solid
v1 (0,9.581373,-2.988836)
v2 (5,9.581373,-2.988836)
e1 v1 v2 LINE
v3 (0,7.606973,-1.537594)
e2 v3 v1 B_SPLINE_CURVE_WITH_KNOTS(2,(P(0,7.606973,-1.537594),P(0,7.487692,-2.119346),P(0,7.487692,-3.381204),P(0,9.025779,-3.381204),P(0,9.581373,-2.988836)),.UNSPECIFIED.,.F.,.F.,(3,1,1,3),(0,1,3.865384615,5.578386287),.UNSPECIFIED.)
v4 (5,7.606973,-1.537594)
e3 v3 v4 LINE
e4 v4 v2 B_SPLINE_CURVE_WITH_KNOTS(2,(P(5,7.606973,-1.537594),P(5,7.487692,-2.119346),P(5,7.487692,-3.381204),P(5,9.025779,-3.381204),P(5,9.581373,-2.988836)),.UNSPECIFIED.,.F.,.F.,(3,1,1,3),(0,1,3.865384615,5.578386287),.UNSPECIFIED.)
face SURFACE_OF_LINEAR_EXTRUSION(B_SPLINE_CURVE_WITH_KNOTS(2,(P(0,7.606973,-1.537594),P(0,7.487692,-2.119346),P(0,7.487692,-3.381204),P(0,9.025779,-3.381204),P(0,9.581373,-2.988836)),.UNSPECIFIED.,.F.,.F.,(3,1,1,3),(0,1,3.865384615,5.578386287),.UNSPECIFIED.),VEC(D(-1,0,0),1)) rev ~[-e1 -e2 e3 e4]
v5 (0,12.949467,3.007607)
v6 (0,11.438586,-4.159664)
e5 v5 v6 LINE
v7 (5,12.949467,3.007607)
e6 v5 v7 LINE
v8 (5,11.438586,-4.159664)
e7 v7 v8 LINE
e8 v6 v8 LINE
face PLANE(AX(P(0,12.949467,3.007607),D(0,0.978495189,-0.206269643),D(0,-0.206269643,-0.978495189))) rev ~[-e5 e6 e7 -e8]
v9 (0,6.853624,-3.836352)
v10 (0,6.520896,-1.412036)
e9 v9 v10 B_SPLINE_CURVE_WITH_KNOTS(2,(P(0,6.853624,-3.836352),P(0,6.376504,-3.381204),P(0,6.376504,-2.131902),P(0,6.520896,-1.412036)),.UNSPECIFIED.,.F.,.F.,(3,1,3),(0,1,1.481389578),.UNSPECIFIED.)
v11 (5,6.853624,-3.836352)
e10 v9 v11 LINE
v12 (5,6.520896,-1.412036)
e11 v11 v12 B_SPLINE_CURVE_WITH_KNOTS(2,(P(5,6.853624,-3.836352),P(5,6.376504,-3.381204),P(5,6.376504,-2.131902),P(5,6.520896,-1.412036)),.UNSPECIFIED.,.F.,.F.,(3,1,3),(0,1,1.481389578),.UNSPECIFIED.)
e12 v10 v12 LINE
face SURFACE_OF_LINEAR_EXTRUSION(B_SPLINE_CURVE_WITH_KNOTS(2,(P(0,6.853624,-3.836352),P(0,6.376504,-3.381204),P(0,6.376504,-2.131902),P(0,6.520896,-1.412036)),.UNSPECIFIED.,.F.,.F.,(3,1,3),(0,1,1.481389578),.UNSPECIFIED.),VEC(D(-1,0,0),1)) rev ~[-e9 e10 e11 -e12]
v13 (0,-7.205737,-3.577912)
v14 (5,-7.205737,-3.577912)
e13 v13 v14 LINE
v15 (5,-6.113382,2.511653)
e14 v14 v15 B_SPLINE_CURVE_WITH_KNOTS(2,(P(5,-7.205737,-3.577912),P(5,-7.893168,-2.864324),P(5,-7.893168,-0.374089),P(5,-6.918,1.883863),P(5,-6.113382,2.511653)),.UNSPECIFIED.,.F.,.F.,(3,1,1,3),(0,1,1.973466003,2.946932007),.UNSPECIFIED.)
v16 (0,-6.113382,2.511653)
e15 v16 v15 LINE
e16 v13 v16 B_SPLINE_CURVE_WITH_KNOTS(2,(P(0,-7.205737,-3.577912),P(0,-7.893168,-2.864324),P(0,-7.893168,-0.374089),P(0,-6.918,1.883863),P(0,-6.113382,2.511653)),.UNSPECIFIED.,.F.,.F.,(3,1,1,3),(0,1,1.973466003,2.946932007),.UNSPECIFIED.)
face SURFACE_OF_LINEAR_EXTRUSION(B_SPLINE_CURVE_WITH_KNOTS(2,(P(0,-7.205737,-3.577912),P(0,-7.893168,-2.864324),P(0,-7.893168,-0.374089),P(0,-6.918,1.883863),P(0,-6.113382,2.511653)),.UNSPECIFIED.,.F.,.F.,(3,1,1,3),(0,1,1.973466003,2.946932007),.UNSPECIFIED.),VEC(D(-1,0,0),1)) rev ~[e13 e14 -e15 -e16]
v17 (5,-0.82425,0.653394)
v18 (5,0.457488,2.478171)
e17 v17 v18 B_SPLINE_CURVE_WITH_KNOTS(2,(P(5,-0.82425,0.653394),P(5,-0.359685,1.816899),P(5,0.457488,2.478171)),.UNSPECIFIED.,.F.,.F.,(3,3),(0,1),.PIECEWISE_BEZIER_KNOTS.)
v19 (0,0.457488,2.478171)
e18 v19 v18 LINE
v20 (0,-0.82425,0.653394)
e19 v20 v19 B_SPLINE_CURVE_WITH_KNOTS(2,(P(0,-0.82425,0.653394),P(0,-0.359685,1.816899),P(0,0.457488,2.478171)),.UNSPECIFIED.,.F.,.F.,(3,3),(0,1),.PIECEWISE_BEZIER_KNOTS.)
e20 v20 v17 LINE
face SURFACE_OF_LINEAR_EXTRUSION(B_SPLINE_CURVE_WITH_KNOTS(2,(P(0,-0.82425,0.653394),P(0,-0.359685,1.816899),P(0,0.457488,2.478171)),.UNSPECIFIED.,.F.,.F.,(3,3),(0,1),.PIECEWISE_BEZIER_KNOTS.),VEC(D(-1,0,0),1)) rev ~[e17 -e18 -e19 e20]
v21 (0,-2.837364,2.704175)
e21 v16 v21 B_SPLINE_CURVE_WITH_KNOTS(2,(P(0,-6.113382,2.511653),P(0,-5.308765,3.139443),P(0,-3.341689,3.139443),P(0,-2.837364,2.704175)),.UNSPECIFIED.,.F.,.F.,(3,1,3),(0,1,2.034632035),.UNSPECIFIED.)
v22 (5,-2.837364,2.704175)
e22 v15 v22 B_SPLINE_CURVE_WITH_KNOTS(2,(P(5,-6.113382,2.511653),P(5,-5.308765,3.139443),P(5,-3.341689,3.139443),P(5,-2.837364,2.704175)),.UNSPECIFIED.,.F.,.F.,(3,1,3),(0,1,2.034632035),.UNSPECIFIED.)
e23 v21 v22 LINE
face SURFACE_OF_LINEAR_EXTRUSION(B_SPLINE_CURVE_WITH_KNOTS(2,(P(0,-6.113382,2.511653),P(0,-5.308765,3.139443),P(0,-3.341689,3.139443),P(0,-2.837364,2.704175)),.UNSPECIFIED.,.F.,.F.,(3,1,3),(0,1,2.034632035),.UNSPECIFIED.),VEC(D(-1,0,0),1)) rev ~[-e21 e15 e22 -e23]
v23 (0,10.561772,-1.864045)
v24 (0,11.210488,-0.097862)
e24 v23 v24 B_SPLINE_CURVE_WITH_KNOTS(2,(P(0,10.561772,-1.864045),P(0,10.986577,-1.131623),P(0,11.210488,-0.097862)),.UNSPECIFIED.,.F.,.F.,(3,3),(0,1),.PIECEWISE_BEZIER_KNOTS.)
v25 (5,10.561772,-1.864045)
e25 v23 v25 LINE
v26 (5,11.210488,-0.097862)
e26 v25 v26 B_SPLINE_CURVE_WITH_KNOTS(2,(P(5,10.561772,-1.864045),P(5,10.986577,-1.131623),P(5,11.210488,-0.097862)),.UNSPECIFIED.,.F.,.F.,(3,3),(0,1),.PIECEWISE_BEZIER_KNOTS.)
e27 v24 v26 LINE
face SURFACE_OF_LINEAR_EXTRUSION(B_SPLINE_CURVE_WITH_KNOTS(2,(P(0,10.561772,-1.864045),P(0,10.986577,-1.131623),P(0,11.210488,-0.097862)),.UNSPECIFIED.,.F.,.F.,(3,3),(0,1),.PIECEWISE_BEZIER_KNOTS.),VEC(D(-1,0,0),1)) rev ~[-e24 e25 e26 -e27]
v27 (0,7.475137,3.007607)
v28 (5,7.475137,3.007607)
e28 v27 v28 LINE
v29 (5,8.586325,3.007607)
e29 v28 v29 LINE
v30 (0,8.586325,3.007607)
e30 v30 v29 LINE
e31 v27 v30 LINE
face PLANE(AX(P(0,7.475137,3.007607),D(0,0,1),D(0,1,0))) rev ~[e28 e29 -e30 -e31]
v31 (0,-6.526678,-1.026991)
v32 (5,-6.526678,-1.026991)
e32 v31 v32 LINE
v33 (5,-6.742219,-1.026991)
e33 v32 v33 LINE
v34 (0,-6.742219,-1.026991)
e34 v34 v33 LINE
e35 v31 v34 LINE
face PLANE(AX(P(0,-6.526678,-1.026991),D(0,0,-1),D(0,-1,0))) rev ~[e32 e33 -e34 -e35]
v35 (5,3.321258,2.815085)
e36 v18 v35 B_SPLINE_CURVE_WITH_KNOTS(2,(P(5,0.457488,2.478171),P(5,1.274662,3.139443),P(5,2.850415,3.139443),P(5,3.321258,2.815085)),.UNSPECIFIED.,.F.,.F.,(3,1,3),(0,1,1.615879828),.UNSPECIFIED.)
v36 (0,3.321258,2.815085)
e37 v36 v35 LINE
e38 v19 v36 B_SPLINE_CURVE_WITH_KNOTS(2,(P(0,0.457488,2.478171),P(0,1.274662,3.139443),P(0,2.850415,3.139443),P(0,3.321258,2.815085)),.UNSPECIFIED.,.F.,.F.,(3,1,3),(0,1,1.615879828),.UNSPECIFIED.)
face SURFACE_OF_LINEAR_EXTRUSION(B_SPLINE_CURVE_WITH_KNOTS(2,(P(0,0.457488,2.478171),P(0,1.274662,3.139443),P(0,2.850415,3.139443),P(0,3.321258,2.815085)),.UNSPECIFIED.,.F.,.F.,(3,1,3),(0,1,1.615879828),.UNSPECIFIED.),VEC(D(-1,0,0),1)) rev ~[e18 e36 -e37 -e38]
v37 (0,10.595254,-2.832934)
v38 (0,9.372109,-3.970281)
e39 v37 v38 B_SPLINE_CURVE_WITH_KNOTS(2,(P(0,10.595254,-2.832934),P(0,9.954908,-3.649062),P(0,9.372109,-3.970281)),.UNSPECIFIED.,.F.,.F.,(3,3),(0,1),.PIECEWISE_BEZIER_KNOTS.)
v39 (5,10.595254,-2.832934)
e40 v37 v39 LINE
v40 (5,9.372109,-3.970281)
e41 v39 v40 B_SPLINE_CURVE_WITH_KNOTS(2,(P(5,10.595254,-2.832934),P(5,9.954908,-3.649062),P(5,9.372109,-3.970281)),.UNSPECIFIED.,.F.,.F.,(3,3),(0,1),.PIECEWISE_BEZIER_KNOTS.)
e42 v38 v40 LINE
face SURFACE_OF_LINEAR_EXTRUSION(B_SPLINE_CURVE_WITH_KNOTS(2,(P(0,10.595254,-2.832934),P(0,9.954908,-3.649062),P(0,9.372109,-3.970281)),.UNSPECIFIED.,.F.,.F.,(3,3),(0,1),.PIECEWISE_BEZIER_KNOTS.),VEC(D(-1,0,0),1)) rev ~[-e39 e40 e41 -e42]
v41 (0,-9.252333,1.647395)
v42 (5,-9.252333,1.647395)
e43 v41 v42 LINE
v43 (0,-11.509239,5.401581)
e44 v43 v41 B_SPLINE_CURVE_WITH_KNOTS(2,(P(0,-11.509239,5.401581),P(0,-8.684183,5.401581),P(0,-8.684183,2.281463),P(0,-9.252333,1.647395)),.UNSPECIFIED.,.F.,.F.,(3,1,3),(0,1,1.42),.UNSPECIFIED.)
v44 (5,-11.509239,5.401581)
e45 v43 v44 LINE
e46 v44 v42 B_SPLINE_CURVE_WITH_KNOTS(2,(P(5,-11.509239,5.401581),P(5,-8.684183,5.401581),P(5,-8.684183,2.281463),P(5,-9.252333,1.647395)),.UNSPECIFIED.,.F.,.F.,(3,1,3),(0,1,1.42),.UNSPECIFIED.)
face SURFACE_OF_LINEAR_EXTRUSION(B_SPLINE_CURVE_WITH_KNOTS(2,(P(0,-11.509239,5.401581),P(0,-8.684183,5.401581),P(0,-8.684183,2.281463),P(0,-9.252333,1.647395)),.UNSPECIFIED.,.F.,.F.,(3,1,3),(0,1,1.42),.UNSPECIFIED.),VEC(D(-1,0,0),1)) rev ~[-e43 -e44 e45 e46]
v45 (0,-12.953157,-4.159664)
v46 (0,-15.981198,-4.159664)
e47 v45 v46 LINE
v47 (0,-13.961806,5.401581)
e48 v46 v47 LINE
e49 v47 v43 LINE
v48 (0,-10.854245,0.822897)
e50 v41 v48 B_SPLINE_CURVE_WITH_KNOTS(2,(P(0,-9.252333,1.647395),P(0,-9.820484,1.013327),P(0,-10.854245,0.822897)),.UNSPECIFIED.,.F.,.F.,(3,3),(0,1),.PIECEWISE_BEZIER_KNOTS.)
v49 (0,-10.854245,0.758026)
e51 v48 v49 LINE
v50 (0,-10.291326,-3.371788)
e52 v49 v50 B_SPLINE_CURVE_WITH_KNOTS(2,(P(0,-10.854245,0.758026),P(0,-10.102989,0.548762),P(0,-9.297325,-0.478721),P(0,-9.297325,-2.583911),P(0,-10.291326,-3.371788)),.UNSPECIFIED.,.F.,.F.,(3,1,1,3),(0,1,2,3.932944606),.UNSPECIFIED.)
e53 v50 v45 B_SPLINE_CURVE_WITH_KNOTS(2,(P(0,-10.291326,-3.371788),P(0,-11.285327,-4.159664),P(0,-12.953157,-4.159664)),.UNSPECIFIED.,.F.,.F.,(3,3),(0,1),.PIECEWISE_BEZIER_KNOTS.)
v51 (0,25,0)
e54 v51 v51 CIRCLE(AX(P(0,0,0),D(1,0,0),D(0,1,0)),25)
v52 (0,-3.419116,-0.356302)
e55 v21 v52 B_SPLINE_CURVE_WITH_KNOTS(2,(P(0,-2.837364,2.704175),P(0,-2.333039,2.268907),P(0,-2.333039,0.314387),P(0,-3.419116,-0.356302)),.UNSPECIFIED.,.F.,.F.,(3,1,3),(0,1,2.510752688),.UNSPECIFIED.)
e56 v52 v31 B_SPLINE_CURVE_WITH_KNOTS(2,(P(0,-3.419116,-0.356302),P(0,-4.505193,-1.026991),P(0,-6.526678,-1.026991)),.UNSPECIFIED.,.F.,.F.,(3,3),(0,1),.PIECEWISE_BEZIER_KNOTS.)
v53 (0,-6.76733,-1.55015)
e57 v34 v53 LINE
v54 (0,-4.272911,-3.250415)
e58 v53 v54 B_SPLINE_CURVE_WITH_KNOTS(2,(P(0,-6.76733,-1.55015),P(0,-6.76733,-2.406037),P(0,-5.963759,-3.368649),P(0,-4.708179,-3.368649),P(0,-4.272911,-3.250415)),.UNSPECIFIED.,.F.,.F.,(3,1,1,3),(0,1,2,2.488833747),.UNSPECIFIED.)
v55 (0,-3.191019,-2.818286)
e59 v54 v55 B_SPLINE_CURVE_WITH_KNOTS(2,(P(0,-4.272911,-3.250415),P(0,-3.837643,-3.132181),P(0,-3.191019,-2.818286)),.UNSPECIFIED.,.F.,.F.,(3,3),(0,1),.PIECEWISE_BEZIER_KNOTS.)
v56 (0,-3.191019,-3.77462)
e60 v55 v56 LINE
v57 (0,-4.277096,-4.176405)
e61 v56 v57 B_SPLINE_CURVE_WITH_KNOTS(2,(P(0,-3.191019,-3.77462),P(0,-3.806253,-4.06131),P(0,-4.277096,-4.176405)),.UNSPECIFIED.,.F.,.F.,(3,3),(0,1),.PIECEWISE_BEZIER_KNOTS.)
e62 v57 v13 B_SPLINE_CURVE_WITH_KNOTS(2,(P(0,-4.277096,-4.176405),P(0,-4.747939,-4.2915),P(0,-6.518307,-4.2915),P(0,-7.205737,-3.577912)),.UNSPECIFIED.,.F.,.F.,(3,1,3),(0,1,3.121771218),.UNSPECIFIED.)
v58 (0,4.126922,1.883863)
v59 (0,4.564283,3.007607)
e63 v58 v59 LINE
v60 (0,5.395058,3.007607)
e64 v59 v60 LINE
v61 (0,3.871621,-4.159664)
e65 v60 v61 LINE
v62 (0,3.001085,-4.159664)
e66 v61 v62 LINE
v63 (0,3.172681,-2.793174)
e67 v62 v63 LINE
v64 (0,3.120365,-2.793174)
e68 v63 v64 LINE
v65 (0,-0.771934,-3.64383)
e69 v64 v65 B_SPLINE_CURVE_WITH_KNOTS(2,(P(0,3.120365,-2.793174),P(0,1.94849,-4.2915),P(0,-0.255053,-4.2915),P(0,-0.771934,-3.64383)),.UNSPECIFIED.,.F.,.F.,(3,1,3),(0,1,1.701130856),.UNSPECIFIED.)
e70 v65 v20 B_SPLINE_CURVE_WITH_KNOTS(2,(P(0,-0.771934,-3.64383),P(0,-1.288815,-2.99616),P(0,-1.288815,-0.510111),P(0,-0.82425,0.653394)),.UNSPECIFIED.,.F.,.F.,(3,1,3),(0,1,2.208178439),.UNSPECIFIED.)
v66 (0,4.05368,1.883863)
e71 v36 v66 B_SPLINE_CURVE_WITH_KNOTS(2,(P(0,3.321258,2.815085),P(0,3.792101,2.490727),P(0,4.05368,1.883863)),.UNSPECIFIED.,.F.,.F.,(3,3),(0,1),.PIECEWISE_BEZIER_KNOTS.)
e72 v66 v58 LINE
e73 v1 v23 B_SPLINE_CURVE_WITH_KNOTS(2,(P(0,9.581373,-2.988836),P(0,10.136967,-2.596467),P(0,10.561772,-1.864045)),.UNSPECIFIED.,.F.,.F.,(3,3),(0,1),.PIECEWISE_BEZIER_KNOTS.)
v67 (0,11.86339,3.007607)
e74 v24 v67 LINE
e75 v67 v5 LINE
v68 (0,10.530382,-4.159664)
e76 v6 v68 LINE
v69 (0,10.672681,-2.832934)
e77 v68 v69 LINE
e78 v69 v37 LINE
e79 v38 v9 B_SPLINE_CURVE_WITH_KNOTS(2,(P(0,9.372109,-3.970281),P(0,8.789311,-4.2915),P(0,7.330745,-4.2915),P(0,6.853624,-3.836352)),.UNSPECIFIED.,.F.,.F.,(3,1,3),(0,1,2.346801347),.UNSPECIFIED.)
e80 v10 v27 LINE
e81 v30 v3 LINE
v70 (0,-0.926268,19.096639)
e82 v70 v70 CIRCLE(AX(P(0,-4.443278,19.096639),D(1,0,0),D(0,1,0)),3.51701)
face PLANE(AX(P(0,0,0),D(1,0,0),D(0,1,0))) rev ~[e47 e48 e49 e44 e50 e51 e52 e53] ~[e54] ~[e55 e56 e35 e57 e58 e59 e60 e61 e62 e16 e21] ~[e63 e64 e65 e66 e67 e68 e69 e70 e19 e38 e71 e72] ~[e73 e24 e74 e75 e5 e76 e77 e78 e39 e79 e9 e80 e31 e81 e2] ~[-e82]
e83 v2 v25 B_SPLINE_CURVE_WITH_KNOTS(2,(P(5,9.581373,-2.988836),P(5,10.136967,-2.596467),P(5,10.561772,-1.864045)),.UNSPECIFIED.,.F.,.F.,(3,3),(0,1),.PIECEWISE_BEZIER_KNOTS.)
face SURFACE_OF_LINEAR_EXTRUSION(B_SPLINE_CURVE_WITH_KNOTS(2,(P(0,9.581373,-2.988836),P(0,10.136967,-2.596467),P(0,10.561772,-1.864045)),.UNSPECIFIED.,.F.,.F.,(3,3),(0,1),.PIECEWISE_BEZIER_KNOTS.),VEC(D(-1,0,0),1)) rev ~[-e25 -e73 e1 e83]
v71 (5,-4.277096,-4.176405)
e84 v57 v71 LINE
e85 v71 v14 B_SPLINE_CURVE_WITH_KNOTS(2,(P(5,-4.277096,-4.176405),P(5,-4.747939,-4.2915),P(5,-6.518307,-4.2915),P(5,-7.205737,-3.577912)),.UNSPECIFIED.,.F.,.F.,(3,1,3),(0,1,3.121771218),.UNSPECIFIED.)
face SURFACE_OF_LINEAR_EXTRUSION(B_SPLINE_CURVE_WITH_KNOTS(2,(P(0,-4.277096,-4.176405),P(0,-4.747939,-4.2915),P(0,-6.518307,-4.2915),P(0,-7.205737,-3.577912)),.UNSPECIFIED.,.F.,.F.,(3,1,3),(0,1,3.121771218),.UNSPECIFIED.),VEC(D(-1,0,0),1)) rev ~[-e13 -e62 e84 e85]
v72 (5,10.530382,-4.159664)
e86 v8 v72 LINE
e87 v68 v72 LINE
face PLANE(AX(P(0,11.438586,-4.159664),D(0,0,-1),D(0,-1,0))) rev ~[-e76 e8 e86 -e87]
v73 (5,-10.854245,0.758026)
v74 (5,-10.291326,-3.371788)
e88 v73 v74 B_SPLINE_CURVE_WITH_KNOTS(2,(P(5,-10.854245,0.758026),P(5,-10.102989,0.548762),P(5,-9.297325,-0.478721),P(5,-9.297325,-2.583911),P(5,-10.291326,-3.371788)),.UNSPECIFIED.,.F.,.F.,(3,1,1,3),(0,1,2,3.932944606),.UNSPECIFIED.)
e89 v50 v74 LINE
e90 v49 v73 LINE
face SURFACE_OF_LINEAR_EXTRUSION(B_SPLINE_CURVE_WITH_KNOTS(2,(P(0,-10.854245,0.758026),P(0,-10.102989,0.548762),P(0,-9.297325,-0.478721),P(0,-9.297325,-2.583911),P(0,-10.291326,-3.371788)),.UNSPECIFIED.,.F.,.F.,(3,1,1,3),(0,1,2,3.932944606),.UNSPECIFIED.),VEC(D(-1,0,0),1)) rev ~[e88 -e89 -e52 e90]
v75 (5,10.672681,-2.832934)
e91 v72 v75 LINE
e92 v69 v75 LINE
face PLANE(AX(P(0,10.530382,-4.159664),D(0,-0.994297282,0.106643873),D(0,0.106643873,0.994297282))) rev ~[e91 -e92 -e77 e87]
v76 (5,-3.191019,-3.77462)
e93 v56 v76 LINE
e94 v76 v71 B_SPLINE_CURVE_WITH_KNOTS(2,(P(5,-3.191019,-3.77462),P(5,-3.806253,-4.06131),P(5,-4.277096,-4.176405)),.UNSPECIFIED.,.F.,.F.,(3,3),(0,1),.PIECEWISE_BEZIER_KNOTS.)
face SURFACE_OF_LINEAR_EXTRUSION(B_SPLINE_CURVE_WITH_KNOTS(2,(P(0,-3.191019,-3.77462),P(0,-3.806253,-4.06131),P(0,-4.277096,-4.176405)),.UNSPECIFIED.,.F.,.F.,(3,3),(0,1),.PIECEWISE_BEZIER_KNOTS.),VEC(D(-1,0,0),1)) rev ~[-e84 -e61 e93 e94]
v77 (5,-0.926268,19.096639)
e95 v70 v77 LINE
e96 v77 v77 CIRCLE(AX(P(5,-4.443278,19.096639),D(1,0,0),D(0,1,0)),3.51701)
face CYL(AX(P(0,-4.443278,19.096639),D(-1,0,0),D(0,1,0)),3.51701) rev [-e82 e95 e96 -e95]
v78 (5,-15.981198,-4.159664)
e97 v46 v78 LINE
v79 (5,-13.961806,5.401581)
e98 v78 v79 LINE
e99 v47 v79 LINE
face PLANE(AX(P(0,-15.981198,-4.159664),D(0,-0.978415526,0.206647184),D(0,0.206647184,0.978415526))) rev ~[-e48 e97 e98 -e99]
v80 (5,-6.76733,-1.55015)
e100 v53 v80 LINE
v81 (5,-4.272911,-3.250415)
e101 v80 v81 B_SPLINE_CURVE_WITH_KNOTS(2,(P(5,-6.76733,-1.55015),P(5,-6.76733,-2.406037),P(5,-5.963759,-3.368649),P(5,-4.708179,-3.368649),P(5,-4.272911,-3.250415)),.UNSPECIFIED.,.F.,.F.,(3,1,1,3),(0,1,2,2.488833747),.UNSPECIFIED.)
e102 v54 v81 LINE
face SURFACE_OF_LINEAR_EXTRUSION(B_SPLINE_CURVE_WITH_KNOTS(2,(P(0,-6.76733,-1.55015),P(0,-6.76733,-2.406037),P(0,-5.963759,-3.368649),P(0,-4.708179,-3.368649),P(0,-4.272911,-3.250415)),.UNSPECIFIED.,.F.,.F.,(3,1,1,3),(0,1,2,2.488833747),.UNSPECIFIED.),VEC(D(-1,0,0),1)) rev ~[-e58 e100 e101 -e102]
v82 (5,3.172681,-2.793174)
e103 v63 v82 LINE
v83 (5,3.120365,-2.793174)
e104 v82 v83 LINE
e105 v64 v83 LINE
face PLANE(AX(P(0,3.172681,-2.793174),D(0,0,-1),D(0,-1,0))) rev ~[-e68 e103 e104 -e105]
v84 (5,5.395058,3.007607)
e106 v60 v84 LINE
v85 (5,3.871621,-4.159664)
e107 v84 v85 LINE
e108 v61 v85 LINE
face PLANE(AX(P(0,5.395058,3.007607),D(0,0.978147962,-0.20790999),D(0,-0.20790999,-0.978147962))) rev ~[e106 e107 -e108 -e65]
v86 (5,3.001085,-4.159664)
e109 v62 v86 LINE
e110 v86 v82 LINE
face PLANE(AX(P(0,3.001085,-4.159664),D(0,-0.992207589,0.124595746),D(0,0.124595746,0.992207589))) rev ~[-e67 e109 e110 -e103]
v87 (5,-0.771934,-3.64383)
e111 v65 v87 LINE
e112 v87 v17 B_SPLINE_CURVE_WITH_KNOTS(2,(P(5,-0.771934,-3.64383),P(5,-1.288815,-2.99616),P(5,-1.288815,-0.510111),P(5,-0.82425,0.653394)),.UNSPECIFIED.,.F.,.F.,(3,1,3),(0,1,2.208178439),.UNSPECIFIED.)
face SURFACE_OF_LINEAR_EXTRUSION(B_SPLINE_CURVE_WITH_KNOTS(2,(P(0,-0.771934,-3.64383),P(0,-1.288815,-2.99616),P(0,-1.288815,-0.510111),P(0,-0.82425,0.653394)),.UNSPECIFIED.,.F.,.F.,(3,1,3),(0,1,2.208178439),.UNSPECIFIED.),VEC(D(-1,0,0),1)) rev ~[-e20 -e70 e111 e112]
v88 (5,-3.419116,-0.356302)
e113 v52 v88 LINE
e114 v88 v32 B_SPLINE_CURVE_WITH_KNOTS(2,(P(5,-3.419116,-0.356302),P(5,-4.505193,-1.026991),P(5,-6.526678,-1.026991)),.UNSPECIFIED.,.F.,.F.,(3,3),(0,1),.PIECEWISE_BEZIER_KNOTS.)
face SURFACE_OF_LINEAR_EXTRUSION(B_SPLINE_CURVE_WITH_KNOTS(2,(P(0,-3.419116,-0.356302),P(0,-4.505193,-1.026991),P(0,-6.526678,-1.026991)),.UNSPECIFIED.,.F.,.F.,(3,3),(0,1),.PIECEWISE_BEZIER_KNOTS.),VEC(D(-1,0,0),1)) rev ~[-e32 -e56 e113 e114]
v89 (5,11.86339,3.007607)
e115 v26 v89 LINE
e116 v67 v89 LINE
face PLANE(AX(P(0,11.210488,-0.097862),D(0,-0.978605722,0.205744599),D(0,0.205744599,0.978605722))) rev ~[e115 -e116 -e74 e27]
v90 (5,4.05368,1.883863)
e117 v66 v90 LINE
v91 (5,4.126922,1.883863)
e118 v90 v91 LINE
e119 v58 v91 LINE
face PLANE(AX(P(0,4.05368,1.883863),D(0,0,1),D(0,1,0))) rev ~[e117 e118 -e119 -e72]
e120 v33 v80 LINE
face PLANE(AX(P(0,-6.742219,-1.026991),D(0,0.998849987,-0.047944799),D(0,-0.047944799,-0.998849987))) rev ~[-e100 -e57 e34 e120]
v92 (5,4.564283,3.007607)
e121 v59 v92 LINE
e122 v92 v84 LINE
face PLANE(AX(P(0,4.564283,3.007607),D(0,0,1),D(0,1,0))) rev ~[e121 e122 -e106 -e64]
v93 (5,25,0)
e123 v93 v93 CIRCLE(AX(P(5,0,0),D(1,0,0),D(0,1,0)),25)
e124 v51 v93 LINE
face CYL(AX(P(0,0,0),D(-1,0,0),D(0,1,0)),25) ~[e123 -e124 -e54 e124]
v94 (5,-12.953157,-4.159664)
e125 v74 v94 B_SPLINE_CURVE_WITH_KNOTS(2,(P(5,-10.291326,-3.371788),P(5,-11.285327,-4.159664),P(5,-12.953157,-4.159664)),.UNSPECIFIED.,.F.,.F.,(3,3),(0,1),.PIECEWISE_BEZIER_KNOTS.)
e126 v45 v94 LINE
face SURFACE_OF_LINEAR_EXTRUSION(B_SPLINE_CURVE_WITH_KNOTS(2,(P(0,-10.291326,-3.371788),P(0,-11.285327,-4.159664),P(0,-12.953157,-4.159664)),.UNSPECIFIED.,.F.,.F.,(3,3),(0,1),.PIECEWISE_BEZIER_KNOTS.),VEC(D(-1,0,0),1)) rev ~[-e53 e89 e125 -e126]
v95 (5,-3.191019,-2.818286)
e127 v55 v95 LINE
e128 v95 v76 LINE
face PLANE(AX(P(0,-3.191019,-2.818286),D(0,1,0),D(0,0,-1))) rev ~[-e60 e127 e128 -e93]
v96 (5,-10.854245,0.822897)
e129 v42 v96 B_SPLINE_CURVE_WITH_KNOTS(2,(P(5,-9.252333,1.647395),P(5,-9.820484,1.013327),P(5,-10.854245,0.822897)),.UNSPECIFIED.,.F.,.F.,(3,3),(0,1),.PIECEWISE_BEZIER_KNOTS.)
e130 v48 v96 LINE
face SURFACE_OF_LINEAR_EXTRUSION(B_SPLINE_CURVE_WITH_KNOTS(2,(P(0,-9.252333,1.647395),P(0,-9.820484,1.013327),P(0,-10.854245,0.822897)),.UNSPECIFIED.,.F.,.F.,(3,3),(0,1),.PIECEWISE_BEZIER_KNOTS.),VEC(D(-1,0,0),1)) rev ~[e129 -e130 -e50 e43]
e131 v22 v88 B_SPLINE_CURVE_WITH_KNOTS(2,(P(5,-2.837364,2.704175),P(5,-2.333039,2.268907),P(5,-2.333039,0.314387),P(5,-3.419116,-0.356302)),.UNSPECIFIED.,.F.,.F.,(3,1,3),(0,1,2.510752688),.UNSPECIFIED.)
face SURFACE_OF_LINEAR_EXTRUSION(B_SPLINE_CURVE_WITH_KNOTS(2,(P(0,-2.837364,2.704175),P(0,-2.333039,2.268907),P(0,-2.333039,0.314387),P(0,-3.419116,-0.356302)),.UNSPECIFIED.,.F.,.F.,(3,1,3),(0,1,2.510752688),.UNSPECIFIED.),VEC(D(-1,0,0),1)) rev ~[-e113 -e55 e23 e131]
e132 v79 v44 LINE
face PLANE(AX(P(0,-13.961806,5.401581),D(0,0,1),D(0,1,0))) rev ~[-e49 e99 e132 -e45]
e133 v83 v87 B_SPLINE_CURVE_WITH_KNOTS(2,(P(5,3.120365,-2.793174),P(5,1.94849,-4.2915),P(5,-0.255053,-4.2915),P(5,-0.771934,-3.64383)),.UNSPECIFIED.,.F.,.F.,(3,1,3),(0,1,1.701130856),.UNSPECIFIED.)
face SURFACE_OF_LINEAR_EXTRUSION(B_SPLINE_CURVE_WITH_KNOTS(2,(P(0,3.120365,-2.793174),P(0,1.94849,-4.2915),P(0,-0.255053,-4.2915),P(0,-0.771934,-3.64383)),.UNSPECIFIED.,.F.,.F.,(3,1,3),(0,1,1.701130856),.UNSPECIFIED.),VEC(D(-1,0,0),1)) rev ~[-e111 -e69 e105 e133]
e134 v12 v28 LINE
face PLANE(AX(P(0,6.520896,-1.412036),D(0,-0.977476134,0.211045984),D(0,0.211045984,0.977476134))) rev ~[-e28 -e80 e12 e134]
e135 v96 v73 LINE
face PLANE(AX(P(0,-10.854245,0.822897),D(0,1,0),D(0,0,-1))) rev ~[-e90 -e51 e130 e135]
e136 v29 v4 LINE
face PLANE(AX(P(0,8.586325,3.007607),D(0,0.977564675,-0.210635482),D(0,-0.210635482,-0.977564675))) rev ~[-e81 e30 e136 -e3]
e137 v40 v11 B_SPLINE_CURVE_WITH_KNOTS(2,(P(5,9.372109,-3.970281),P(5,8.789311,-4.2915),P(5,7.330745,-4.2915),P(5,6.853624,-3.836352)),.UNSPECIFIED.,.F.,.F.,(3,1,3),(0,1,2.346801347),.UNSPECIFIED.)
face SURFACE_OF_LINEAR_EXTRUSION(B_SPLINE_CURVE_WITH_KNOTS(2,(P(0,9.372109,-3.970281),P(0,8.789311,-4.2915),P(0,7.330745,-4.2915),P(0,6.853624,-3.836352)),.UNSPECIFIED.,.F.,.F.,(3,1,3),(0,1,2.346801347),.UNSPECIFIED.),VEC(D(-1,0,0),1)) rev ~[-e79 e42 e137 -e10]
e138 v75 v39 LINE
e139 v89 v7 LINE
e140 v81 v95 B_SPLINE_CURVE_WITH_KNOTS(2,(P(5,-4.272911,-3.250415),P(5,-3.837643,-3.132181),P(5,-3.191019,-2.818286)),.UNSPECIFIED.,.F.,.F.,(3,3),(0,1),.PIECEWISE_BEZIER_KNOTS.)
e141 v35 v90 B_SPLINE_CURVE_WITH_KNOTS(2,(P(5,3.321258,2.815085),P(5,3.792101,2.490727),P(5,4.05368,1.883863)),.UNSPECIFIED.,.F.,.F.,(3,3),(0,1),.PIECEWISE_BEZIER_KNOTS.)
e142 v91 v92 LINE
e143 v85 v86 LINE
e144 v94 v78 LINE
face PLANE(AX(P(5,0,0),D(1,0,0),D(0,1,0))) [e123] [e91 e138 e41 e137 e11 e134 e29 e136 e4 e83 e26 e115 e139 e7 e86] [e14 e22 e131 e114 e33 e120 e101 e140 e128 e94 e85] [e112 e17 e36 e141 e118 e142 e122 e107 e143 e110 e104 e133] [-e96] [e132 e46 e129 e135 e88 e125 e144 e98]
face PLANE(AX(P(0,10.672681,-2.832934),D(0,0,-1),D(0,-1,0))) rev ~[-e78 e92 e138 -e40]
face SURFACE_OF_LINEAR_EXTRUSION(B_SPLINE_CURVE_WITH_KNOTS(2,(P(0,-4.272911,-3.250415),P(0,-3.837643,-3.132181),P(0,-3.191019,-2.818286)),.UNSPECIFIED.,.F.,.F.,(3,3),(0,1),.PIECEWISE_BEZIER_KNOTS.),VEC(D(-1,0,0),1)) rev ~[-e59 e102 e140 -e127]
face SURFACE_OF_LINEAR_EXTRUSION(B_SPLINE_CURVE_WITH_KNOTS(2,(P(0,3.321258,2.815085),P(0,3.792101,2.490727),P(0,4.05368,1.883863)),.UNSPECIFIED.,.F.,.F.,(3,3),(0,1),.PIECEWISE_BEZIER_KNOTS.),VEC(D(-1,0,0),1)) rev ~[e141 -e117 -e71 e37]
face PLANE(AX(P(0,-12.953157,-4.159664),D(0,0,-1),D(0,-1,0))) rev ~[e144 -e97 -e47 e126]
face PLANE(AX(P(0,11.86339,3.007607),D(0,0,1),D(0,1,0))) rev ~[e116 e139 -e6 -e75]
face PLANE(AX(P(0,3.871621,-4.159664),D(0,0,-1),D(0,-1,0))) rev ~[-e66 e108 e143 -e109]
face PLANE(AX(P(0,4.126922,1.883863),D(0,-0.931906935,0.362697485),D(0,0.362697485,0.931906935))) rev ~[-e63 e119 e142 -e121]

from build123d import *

# Parameters (mm, degrees)
F0_R     = 25
F0_R_2   = 3.517009594
F1_DEPTH = 5


with BuildPart() as f1:
    # F0 (on Right) → F1 (new body)
    with BuildSketch(Plane.YZ):
        Circle(F0_R)
        with BuildLine():
            add(Edge.make_bspline(
                [(-4.2770959996, -4.1764053417), (-4.7479386555, -4.2915002132), (-5.3150424766, -4.2915002132)],
                knots=[0, 0, 0, 1, 1, 1], degree=2))
            add(Edge.make_bspline(
                [(-5.3150424766, -4.2915002132), (-6.5183070416, -4.2915002132), (-7.2057373192, -3.5779120103)],
                knots=[0, 0, 0, 1, 1, 1], degree=2))
            add(Edge.make_bspline(
                [(-7.2057373192, -3.5779120103), (-7.8931675968, -2.8643238073), (-7.8931675968, -1.6024654896)],
                knots=[0, 0, 0, 1, 1, 1], degree=2))
            add(Edge.make_bspline(
                [(-7.8931675968, -1.6024654896), (-7.8931675968, -0.3740893162), (-7.4055838687, 0.7548867409)],
                knots=[0, 0, 0, 1, 1, 1], degree=2))
            add(Edge.make_bspline(
                [(-7.4055838687, 0.7548867409), (-6.9180001406, 1.883862798), (-6.1133823575, 2.5116530059)],
                knots=[0, 0, 0, 1, 1, 1], degree=2))
            add(Edge.make_bspline(
                [(-6.1133823575, 2.5116530059), (-5.3087645745, 3.1394432137), (-4.3419676544, 3.1394432137)],
                knots=[0, 0, 0, 1, 1, 1], degree=2))
            add(Edge.make_bspline(
                [(-4.3419676544, 3.1394432137), (-3.3416885899, 3.1394432137), (-2.8373637896, 2.7041753363)],
                knots=[0, 0, 0, 1, 1, 1], degree=2))
            add(Edge.make_bspline(
                [(-2.8373637896, 2.7041753363), (-2.3330389893, 2.2689074588), (-2.3330389893, 1.4904476011)],
                knots=[0, 0, 0, 1, 1, 1], degree=2))
            add(Edge.make_bspline(
                [(-2.3330389893, 1.4904476011), (-2.3330389893, 0.3143872784), (-3.4191160489, -0.356301927)],
                knots=[0, 0, 0, 1, 1, 1], degree=2))
            add(Edge.make_bspline(
                [(-3.4191160489, -0.356301927), (-4.5051931084, -1.0269911324), (-6.5266775777, -1.0269911324)],
                knots=[0, 0, 0, 1, 1, 1], degree=2))
            Line((-6.5266775777, -1.0269911324), (-6.7422188824, -1.0269911324))
            Line((-6.7422188824, -1.0269911324), (-6.7673304907, -1.5501496389))
            add(Edge.make_bspline(
                [(-6.7673304907, -1.5501496389), (-6.7673304907, -2.4060369556), (-6.3655447577, -2.8873427816)],
                knots=[0, 0, 0, 1, 1, 1], degree=2))
            add(Edge.make_bspline(
                [(-6.3655447577, -2.8873427816), (-5.9637590247, -3.3686486076), (-5.1204275121, -3.3686486076)],
                knots=[0, 0, 0, 1, 1, 1], degree=2))
            add(Edge.make_bspline(
                [(-5.1204275121, -3.3686486076), (-4.708178609, -3.3686486076), (-4.2729107315, -3.2504147852)],
                knots=[0, 0, 0, 1, 1, 1], degree=2))
            add(Edge.make_bspline(
                [(-4.2729107315, -3.2504147852), (-3.8376428541, -3.1321809627), (-3.19101894, -2.8182858588)],
                knots=[0, 0, 0, 1, 1, 1], degree=2))
            Line((-3.19101894, -2.8182858588), (-3.19101894, -3.7746196087))
            add(Edge.make_bspline(
                [(-3.19101894, -3.7746196087), (-3.8062533437, -4.0613104703), (-4.2770959996, -4.1764053417)],
                knots=[0, 0, 0, 1, 1, 1], degree=2))
        make_face(mode=Mode.SUBTRACT)
        with BuildLine():
            add(Edge.make_bspline(
                [(0.4574884846, 2.4781708614), (1.2746620718, 3.1394432137), (2.249829528, 3.1394432137)],
                knots=[0, 0, 0, 1, 1, 1], degree=2))
            add(Edge.make_bspline(
                [(2.249829528, 3.1394432137), (2.8504154935, 3.1394432137), (3.3212581494, 2.8150849397)],
                knots=[0, 0, 0, 1, 1, 1], degree=2))
            add(Edge.make_bspline(
                [(3.3212581494, 2.8150849397), (3.7921008053, 2.4907266656), (4.0536800586, 1.883862798)],
                knots=[0, 0, 0, 1, 1, 1], degree=2))
            Line((4.0536800586, 1.883862798), (4.1269222495, 1.883862798))
            Line((4.1269222495, 1.883862798), (4.5642827609, 3.0076072701))
            Line((4.5642827609, 3.0076072701), (5.3950584693, 3.0076072701))
            Line((5.3950584693, 3.0076072701), (3.8716208983, -4.1596642695))
            Line((3.8716208983, -4.1596642695), (3.0010851434, -4.1596642695))
            Line((3.0010851434, -4.1596642695), (3.1726811335, -2.7931742505))
            Line((3.1726811335, -2.7931742505), (3.1203652829, -2.7931742505))
            add(Edge.make_bspline(
                [(3.1203652829, -2.7931742505), (1.9484902282, -4.2915002132), (0.653149766, -4.2915002132)],
                knots=[0, 0, 0, 1, 1, 1], degree=2))
            add(Edge.make_bspline(
                [(0.653149766, -4.2915002132), (-0.2550534013, -4.2915002132), (-0.7719340058, -3.6438299821)],
                knots=[0, 0, 0, 1, 1, 1], degree=2))
            add(Edge.make_bspline(
                [(-0.7719340058, -3.6438299821), (-1.2888146102, -2.996159751), (-1.2888146102, -1.8703226449)],
                knots=[0, 0, 0, 1, 1, 1], degree=2))
            add(Edge.make_bspline(
                [(-1.2888146102, -1.8703226449), (-1.2888146102, -0.5101105279), (-0.8242498564, 0.6533939906)],
                knots=[0, 0, 0, 1, 1, 1], degree=2))
            add(Edge.make_bspline(
                [(-0.8242498564, 0.6533939906), (-0.3596851026, 1.8168985092), (0.4574884846, 2.4781708614)],
                knots=[0, 0, 0, 1, 1, 1], degree=2))
        make_face(mode=Mode.SUBTRACT)
        with BuildLine():
            Line((7.4751366913, 3.0076072701), (8.5863253592, 3.0076072701))
            Line((8.5863253592, 3.0076072701), (7.606972635, -1.5375938348))
            add(Edge.make_bspline(
                [(7.606972635, -1.5375938348), (7.4876924955, -2.119346094), (7.4876924955, -2.4457970021)],
                knots=[0, 0, 0, 1, 1, 1], degree=2))
            add(Edge.make_bspline(
                [(7.4876924955, -2.4457970021), (7.4876924955, -3.3812044118), (8.4503041475, -3.3812044118)],
                knots=[0, 0, 0, 1, 1, 1], degree=2))
            add(Edge.make_bspline(
                [(8.4503041475, -3.3812044118), (9.0257785047, -3.3812044118), (9.5813728387, -2.9888355319)],
                knots=[0, 0, 0, 1, 1, 1], degree=2))
            add(Edge.make_bspline(
                [(9.5813728387, -2.9888355319), (10.1369671726, -2.596466652), (10.5617718799, -1.8640447428)],
                knots=[0, 0, 0, 1, 1, 1], degree=2))
            add(Edge.make_bspline(
                [(10.5617718799, -1.8640447428), (10.9865765872, -1.1316228337), (11.210488428, -0.0978616248)],
                knots=[0, 0, 0, 1, 1, 1], degree=2))
            Line((11.210488428, -0.0978616248), (11.8633902442, 3.0076072701))
            Line((11.8633902442, 3.0076072701), (12.9494673038, 3.0076072701))
            Line((12.9494673038, 3.0076072701), (11.4385855369, -4.1596642695))
            Line((11.4385855369, -4.1596642695), (10.5303823695, -4.1596642695))
            Line((10.5303823695, -4.1596642695), (10.6726814833, -2.832934297))
            Line((10.6726814833, -2.832934297), (10.5952540243, -2.832934297))
            add(Edge.make_bspline(
                [(10.5952540243, -2.832934297), (9.9549080123, -3.6490615672), (9.372109436, -3.9702808902)],
                knots=[0, 0, 0, 1, 1, 1], degree=2))
            add(Edge.make_bspline(
                [(9.372109436, -3.9702808902), (8.7893108598, -4.2915002132), (8.167798554, -4.2915002132)],
                knots=[0, 0, 0, 1, 1, 1], degree=2))
            add(Edge.make_bspline(
                [(8.167798554, -4.2915002132), (7.3307449435, -4.2915002132), (6.8536243856, -3.8363523125)],
                knots=[0, 0, 0, 1, 1, 1], degree=2))
            add(Edge.make_bspline(
                [(6.8536243856, -3.8363523125), (6.3765038276, -3.3812044118), (6.3765038276, -2.5378728993)],
                knots=[0, 0, 0, 1, 1, 1], degree=2))
            add(Edge.make_bspline(
                [(6.3765038276, -2.5378728993), (6.3765038276, -2.1319018982), (6.5208955754, -1.4120357932)],
                knots=[0, 0, 0, 1, 1, 1], degree=2))
            Line((6.5208955754, -1.4120357932), (7.4751366913, 3.0076072701))
        make_face(mode=Mode.SUBTRACT)
        with BuildLine():
            Line((-13.9618062727, 5.401580596), (-11.509239194, 5.401580596))
            add(Edge.make_bspline(
                [(-11.509239194, 5.401580596), (-8.6841832587, 5.401580596), (-8.6841832587, 3.2043148685)],
                knots=[0, 0, 0, 1, 1, 1], degree=2))
            add(Edge.make_bspline(
                [(-8.6841832587, 3.2043148685), (-8.6841832587, 2.281463263), (-9.2523333968, 1.6473951531)],
                knots=[0, 0, 0, 1, 1, 1], degree=2))
            add(Edge.make_bspline(
                [(-9.2523333968, 1.6473951531), (-9.8204835349, 1.0133270431), (-10.8542447438, 0.8228973468)],
                knots=[0, 0, 0, 1, 1, 1], degree=2))
            Line((-10.8542447438, 0.8228973468), (-10.8542447438, 0.7580256919))
            add(Edge.make_bspline(
                [(-10.8542447438, 0.7580256919), (-10.1029891284, 0.5487622893), (-9.7001570784, 0.0350206359)],
                knots=[0, 0, 0, 1, 1, 1], degree=2))
            add(Edge.make_bspline(
                [(-9.7001570784, 0.0350206359), (-9.2973250284, -0.4787210175), (-9.2973250284, -1.1964944885)],
                knots=[0, 0, 0, 1, 1, 1], degree=2))
            add(Edge.make_bspline(
                [(-9.2973250284, -1.1964944885), (-9.2973250284, -2.5839108478), (-10.2913261908, -3.3717875587)],
                knots=[0, 0, 0, 1, 1, 1], degree=2))
            add(Edge.make_bspline(
                [(-10.2913261908, -3.3717875587), (-11.2853273532, -4.1596642695), (-12.9531566721, -4.1596642695)],
                knots=[0, 0, 0, 1, 1, 1], degree=2))
            Line((-12.9531566721, -4.1596642695), (-15.9811981079, -4.1596642695))
            Line((-15.9811981079, -4.1596642695), (-13.9618062727, 5.401580596))
        make_face(mode=Mode.SUBTRACT)
        with Locations((-4.4432776049, 19.0966390073)):
            Circle(F0_R_2, mode=Mode.SUBTRACT)
    extrude(amount=F1_DEPTH)


solid = f1.part
